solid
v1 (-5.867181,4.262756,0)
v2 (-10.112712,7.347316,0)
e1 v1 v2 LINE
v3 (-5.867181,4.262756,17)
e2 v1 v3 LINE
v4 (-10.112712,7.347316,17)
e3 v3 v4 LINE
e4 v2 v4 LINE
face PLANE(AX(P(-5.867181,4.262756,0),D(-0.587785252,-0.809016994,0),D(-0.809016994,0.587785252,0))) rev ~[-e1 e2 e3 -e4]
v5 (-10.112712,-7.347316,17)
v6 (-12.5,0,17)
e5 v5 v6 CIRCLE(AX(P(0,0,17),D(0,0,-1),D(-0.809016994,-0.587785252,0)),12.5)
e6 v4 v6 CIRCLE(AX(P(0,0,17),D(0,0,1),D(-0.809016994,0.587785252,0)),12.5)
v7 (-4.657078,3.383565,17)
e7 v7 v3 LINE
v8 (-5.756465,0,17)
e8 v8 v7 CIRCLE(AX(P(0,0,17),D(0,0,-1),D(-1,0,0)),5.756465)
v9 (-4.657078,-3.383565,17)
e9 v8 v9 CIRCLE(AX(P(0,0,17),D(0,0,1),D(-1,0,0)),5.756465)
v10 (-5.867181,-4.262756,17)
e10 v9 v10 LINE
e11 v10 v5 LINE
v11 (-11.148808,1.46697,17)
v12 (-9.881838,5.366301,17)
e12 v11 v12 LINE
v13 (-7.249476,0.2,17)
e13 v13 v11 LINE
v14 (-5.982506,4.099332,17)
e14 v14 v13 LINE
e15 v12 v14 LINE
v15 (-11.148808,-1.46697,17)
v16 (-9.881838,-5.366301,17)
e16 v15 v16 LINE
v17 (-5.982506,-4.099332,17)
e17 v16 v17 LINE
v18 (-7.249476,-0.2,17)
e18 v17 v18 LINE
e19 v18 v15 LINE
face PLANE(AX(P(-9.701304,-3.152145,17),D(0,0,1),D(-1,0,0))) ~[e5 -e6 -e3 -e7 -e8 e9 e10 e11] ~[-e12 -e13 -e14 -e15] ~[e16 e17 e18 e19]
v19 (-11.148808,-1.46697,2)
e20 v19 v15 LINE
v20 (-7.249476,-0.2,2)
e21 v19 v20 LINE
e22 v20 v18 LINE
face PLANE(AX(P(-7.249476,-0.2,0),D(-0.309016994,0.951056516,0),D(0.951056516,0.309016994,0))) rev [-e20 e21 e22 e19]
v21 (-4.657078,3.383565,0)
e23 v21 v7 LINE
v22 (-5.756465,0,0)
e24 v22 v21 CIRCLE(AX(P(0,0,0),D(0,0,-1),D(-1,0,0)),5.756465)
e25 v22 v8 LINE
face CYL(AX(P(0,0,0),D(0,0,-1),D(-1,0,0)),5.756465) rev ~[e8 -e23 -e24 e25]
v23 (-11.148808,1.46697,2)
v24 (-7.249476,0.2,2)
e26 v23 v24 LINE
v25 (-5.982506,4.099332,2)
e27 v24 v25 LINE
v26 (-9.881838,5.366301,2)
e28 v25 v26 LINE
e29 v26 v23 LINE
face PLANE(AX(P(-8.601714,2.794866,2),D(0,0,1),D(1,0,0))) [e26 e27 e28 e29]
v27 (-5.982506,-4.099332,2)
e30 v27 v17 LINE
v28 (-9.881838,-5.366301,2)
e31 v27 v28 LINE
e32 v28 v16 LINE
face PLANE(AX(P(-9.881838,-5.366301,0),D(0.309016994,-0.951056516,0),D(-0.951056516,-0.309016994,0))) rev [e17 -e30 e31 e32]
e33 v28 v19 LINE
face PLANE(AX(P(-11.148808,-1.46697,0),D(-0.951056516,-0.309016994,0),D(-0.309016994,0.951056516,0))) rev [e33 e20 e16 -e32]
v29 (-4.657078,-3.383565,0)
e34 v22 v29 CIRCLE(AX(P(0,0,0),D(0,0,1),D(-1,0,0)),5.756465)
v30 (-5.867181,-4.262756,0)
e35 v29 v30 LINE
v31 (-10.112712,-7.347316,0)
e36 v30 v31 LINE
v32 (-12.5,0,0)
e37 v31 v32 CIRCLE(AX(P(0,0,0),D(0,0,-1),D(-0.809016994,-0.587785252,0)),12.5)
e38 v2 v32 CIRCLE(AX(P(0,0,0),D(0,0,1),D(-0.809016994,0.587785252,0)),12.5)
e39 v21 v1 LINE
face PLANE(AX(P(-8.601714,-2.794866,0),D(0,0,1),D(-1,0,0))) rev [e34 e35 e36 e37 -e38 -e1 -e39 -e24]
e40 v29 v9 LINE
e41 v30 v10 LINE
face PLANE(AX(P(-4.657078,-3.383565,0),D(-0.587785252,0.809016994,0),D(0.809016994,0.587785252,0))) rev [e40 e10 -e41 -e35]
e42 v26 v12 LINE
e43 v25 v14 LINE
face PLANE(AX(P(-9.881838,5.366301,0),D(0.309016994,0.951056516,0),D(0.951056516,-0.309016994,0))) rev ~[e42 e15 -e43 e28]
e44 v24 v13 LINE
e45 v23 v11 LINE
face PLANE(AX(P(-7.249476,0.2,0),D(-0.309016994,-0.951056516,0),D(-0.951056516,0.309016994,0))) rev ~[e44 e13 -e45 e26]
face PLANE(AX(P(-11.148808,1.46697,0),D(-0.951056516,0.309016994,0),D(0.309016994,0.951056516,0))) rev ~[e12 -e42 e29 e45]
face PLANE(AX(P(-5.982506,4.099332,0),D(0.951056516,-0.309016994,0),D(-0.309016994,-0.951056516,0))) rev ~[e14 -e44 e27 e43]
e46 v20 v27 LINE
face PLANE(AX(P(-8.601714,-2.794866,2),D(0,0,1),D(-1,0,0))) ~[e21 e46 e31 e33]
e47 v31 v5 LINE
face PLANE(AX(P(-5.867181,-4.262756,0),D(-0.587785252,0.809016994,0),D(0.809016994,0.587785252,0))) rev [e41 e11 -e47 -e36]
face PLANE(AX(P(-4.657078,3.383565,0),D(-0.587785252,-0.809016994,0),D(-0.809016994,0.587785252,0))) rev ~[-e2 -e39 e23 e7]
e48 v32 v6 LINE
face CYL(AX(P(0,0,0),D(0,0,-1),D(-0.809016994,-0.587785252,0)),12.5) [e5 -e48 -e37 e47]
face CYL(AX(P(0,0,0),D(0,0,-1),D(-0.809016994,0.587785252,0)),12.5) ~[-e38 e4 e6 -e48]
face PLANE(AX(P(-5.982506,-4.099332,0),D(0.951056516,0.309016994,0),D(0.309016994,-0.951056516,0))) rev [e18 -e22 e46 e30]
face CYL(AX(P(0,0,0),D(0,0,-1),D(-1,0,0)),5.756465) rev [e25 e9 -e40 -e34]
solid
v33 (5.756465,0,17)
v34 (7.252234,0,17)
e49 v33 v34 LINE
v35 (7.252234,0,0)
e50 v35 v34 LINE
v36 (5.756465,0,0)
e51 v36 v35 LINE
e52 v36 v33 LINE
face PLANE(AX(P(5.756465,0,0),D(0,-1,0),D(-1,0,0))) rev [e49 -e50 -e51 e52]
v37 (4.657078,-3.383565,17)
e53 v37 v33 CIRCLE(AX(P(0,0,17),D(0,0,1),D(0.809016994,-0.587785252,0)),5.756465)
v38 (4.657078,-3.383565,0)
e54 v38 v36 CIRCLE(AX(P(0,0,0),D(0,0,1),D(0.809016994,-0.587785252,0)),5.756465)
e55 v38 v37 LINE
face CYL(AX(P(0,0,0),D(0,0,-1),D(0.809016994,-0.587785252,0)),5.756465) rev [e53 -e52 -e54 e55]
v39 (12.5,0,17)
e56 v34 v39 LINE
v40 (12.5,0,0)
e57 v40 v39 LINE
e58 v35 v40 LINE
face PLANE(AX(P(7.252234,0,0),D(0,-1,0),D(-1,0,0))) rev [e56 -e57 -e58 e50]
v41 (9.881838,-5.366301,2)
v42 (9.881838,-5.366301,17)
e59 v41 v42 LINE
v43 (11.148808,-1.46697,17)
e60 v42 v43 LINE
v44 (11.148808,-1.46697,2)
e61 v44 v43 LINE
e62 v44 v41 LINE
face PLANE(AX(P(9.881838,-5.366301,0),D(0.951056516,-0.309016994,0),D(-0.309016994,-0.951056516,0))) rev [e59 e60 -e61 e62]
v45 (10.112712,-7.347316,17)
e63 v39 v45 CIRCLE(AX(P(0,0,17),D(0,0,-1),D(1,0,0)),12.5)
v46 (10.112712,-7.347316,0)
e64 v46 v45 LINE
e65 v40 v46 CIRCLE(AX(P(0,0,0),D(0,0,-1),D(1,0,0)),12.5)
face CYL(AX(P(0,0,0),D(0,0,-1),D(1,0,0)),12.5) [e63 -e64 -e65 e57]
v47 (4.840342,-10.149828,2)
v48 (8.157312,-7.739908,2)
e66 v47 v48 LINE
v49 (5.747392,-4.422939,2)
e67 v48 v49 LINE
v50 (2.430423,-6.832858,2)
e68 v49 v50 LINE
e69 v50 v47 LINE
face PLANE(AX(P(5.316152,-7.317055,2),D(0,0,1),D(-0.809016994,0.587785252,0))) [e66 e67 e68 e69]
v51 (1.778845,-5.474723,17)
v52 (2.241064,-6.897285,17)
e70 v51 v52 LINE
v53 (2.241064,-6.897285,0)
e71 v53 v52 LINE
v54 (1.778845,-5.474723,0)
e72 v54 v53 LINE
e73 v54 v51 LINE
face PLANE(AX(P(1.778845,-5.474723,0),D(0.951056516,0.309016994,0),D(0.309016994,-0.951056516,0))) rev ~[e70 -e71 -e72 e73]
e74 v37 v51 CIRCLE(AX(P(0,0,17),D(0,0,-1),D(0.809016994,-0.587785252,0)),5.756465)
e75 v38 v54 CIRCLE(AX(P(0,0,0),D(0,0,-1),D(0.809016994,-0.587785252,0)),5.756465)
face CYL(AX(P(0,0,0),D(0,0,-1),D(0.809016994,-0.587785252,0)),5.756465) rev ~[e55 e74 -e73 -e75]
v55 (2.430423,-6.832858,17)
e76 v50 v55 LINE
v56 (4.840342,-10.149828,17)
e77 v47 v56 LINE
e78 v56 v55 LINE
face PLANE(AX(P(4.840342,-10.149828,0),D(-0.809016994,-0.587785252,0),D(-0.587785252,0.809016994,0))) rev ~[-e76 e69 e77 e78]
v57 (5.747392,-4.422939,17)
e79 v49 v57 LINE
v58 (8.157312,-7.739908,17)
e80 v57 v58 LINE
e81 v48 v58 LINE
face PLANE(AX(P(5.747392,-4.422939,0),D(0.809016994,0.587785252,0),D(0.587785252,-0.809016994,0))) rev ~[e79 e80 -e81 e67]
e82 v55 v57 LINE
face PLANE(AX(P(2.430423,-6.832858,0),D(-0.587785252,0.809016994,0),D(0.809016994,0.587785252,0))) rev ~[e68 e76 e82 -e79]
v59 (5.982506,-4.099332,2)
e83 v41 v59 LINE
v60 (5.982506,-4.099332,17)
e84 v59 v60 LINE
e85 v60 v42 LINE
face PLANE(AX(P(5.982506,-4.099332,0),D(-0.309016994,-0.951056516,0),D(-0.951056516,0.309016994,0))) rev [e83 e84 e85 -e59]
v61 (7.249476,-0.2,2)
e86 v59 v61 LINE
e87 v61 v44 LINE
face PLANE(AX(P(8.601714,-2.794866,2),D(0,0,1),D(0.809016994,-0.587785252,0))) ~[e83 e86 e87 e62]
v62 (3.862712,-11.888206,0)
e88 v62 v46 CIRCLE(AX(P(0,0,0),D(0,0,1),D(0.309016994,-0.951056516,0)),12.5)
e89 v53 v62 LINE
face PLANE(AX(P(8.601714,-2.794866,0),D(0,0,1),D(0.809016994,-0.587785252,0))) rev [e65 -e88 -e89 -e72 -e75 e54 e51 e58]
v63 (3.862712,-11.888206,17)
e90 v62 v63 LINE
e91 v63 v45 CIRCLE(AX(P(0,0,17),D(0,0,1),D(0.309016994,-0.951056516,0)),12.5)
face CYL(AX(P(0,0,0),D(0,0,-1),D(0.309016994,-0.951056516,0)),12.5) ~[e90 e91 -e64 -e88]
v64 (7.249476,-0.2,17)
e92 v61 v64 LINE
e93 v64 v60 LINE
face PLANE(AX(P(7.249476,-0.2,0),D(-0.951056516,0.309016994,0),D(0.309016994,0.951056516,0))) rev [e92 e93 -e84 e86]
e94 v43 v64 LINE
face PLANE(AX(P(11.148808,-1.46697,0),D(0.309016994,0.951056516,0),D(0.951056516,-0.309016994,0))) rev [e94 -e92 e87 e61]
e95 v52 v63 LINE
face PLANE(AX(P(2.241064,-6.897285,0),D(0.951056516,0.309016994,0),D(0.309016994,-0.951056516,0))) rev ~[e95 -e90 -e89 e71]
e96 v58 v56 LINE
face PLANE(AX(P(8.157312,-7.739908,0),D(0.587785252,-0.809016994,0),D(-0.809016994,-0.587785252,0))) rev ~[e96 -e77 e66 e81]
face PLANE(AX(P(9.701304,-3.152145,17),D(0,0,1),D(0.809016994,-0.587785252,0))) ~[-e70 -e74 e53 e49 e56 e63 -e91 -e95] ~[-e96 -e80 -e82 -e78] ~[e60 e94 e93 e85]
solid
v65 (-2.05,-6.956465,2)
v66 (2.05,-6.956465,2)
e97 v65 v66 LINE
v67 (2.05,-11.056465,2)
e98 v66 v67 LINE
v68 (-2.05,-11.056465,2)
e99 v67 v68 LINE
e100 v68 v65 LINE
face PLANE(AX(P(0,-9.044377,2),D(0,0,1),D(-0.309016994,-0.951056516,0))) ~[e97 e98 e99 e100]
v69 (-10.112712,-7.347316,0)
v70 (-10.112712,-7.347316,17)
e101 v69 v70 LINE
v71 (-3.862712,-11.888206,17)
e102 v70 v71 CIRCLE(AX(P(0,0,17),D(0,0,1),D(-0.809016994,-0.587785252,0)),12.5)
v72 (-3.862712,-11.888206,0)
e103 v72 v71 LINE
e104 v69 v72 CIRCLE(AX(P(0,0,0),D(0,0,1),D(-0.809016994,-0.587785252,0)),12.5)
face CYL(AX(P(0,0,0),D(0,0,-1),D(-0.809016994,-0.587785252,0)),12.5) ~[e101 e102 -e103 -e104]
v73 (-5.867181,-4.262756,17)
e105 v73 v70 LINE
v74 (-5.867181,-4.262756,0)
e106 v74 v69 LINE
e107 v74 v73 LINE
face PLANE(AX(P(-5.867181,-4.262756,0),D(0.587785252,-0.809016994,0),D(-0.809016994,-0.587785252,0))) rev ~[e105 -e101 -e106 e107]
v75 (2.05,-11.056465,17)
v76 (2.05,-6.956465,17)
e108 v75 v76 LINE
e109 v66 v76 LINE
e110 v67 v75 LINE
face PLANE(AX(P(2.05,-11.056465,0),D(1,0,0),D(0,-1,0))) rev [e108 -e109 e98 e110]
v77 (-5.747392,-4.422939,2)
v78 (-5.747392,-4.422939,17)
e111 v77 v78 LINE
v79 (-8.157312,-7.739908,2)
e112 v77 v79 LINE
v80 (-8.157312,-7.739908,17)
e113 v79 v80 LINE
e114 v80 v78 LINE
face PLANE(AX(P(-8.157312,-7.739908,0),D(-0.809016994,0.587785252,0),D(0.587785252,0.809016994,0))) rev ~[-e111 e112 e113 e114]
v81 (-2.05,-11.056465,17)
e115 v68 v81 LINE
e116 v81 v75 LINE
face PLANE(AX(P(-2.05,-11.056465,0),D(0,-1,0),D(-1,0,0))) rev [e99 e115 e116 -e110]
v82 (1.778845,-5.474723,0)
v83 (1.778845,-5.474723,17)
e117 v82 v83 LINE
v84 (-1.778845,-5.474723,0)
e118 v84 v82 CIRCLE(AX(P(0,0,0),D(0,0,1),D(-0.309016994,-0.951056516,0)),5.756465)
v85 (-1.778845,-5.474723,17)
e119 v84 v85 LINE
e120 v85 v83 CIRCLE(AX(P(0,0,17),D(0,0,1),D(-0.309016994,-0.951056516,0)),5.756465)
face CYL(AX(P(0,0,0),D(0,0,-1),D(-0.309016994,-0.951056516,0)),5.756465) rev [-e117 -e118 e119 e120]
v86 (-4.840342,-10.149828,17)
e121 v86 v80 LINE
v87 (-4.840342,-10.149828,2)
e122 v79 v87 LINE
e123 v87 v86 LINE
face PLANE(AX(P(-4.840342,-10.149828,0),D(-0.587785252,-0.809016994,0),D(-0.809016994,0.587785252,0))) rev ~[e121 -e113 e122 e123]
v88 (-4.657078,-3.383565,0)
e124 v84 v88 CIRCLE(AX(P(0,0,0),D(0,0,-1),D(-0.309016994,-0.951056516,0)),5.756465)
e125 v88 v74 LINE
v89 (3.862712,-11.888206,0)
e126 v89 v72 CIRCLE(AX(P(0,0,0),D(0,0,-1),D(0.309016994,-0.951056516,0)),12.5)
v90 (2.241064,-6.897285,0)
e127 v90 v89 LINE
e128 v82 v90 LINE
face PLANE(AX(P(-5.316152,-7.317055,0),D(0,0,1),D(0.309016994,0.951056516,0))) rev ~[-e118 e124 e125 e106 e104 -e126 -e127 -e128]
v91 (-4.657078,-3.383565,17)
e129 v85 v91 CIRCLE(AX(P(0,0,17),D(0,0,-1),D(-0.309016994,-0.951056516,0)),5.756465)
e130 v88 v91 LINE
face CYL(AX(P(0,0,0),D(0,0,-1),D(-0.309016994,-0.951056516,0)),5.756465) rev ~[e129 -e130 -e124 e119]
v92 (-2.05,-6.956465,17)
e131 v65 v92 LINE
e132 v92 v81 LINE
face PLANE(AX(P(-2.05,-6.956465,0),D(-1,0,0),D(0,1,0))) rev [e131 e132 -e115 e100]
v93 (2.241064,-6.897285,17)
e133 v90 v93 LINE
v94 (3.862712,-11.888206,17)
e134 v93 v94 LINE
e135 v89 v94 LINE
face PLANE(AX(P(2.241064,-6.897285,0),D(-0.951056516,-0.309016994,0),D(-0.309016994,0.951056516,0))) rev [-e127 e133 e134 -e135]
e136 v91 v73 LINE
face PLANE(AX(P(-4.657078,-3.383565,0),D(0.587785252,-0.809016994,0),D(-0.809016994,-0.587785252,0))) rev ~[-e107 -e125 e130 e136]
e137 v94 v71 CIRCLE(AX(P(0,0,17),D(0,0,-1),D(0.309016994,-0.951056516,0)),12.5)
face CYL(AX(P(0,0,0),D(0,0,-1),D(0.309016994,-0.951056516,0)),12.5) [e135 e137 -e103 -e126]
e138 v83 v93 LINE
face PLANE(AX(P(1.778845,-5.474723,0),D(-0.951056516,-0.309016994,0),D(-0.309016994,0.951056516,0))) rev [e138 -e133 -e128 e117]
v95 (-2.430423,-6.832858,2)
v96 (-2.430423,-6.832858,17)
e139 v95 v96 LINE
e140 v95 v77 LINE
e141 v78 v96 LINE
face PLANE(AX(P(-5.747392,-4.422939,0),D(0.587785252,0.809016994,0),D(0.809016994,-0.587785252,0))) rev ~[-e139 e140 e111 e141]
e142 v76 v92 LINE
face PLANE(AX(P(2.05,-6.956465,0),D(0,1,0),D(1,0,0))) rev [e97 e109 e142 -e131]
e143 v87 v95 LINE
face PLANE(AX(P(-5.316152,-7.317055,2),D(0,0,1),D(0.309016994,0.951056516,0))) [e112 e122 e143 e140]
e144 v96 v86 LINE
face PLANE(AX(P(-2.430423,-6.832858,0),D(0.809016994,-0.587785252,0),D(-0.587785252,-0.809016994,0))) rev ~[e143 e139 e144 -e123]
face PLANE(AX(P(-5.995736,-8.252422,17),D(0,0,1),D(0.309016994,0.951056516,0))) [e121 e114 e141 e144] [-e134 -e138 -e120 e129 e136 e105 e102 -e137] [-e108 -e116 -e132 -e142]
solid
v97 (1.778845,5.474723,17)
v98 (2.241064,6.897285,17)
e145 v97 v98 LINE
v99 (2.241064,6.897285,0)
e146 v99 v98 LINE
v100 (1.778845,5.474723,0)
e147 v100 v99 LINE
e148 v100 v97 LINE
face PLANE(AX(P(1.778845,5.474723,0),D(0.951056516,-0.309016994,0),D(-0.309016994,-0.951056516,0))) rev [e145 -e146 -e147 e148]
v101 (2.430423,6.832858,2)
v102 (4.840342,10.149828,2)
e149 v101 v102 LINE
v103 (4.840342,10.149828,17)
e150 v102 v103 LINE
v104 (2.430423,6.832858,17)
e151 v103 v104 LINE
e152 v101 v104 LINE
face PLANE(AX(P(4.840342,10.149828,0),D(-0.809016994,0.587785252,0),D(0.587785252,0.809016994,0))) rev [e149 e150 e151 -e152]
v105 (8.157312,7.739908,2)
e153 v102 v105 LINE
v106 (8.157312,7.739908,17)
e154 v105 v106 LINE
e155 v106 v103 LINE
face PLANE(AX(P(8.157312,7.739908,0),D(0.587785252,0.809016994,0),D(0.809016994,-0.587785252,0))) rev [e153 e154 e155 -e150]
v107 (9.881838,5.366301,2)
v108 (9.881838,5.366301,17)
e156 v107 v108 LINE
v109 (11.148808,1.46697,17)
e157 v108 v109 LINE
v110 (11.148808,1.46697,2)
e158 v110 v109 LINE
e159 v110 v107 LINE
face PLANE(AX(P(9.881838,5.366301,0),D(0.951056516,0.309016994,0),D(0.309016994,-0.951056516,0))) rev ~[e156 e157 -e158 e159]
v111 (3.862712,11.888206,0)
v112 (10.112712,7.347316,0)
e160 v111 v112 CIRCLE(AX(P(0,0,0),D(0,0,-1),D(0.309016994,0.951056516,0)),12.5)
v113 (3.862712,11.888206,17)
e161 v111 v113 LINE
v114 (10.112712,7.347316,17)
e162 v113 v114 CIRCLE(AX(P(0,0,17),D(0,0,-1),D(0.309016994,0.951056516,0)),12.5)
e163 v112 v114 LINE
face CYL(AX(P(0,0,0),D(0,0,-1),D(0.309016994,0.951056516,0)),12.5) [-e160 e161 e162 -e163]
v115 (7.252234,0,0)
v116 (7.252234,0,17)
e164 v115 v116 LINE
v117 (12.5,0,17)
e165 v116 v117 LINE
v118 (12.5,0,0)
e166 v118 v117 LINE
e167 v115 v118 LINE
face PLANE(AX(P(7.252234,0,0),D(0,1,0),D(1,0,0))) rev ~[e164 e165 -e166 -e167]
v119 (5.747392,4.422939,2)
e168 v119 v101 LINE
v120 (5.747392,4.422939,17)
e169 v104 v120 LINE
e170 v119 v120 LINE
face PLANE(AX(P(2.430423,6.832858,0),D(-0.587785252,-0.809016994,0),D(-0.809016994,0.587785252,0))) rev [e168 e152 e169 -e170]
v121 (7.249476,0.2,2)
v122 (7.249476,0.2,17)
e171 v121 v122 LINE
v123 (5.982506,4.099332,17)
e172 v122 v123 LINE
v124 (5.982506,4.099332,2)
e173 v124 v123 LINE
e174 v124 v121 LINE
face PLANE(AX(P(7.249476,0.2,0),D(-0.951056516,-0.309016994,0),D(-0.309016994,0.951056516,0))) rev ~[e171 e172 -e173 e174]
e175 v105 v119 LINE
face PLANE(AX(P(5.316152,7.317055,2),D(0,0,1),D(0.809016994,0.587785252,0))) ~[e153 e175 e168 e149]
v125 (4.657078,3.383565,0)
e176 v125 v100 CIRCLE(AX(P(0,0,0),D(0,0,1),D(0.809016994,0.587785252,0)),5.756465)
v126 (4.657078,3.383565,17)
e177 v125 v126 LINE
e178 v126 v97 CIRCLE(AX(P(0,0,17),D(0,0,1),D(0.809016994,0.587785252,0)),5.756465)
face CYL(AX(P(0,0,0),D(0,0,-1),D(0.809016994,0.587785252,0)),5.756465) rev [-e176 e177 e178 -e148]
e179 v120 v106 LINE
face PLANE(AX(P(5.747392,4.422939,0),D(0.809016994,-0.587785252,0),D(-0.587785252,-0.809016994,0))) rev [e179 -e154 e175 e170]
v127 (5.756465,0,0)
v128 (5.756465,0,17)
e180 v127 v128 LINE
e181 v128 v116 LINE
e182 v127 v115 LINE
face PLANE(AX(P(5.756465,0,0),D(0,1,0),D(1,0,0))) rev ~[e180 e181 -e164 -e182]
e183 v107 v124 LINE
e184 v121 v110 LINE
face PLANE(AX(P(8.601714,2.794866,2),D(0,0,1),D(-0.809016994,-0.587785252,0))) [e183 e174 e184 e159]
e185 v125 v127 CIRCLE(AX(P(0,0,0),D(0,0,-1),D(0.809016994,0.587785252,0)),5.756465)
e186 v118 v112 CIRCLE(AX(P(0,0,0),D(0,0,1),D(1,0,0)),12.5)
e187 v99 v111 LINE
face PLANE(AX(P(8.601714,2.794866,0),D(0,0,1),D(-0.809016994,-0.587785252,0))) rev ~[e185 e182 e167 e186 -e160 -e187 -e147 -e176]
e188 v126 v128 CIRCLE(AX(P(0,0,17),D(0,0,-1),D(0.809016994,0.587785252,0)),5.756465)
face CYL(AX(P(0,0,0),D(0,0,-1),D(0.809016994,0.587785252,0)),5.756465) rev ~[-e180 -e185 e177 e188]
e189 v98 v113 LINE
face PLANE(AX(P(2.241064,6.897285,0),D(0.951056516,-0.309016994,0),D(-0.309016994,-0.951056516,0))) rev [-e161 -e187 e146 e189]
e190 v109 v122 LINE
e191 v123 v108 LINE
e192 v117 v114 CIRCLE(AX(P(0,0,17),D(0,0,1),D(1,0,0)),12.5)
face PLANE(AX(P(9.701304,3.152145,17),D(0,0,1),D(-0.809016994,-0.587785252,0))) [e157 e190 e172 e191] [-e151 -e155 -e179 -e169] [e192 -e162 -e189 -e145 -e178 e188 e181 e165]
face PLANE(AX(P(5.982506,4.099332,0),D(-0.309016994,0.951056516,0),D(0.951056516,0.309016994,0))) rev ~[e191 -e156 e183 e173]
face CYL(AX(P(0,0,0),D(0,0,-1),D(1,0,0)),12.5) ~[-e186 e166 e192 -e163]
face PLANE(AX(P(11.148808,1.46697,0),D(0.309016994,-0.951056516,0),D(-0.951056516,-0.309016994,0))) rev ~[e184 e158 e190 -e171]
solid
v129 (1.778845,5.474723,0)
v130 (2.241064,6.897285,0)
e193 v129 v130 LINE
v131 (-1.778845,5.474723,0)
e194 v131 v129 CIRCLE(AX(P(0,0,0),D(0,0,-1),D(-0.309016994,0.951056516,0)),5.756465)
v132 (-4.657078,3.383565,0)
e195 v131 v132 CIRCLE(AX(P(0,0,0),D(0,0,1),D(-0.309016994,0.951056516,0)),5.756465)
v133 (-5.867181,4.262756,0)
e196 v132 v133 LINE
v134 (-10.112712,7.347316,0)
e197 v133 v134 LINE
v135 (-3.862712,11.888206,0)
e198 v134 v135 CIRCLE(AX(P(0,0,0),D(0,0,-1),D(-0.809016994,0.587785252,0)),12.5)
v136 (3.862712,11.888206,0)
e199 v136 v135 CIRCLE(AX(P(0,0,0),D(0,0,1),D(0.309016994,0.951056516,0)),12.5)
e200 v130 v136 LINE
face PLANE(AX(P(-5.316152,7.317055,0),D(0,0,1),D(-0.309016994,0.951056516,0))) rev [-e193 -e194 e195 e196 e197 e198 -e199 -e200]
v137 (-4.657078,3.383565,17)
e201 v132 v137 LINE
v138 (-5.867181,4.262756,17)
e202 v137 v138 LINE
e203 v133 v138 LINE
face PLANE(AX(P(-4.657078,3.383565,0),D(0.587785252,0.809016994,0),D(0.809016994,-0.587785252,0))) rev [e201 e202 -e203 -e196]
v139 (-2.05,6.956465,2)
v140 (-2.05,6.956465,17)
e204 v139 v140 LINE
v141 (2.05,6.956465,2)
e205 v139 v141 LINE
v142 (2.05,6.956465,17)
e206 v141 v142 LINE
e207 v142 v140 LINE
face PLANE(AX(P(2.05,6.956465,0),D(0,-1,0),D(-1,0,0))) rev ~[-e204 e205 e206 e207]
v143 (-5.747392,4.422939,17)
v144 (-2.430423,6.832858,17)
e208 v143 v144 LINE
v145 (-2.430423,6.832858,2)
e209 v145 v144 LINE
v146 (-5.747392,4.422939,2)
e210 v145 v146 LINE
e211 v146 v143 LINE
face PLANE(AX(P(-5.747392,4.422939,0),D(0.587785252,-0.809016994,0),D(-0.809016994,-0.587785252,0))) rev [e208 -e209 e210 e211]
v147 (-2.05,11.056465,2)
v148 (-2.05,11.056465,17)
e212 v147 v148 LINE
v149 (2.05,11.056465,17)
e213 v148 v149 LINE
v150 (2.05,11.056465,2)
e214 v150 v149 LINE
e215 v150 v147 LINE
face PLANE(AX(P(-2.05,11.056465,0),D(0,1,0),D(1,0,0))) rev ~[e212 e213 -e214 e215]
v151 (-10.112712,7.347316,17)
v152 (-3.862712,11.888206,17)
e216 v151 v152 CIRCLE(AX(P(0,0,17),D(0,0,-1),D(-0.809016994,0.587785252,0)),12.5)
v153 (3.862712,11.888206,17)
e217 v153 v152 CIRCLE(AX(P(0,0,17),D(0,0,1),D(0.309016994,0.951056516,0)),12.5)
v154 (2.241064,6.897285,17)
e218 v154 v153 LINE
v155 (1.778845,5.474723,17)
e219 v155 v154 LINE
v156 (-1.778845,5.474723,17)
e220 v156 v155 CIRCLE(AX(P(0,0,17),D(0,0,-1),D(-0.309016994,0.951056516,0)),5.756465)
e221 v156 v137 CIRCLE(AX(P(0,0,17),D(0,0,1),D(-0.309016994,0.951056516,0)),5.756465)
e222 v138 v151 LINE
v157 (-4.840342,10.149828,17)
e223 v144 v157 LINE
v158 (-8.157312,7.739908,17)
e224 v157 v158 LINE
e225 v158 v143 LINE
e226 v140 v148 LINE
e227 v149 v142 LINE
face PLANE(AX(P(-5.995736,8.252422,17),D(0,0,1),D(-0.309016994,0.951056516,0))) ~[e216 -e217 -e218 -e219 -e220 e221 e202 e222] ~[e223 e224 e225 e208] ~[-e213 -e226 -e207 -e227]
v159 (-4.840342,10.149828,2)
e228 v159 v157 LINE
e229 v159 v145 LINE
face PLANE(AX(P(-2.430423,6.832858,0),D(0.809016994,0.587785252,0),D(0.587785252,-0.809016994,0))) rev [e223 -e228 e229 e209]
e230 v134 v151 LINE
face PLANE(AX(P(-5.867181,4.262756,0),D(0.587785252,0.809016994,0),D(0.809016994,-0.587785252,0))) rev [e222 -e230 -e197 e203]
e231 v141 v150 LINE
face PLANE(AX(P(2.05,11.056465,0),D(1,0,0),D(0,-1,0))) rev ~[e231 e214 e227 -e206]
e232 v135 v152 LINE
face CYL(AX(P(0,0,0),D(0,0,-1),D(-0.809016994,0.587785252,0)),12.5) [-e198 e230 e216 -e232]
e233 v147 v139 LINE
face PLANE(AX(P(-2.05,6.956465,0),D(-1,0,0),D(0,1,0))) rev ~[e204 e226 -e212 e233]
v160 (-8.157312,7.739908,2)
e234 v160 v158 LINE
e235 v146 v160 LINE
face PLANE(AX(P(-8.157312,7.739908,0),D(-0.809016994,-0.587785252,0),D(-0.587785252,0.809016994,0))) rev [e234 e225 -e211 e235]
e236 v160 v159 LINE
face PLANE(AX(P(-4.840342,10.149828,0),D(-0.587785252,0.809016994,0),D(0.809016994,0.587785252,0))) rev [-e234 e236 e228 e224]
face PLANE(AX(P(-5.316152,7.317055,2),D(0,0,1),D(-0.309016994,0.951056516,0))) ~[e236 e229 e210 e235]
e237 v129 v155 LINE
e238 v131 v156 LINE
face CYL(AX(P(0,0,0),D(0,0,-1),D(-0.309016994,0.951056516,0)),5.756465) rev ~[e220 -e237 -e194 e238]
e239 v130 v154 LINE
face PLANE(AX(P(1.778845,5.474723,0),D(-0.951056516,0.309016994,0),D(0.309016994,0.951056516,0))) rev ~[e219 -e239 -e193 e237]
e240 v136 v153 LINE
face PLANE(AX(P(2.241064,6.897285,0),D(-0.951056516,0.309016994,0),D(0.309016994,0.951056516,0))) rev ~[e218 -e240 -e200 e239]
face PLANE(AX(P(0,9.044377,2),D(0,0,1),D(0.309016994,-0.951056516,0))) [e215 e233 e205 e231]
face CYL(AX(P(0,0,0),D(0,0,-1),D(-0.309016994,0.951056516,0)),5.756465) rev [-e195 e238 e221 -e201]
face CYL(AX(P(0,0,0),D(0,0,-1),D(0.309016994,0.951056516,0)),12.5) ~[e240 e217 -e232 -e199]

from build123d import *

# Parameters (mm, degrees)
F1_DEPTH = 17
F2_DEPTH = 2


with BuildPart() as f1:
    # F0 (on Top) → F1 (new body)
    with BuildSketch(Plane.XY):
        with BuildLine():
            Line((-9.8818381012, 5.3663013937), (-5.9825063844, 4.0993317168))
            ThreePointArc((-5.9825063844, 4.0993317168), (-5.9254070532, 4.1814416674), (-5.8671808417, 4.262756401))
            Line((-5.8671808417, 4.262756401), (-10.1127124297, 7.3473156537))
            ThreePointArc((-10.1127124297, 7.3473156537), (-11.8882064537, 3.8627124297), (-12.5, 0))
            Line((-12.5, 0), (-7.2522343566, 0))
            ThreePointArc((-7.2522343566, 0), (-7.25154475, 0.1000095098), (-7.2494760613, 0.2))
            Line((-7.2494760613, 0.2), (-11.1488077781, 1.4669696769))
            Line((-11.1488077781, 1.4669696769), (-9.8818381012, 5.3663013937))
        make_face()
        with BuildLine():
            ThreePointArc((-5.8671808417, 4.262756401), (-5.9254070532, 4.1814416674), (-5.9825063844, 4.0993317168))
            Line((-5.9825063844, 4.0993317168), (-7.2494760613, 0.2))
            ThreePointArc((-7.2494760613, 0.2), (-7.25154475, 0.1000095098), (-7.2522343566, 0))
            Line((-7.2522343566, 0), (-5.7564648467, 0))
            ThreePointArc((-5.7564648467, 0), (-5.4747234033, 1.7788454652), (-4.6570778885, 3.3835651422))
            Line((-4.6570778885, 3.3835651422), (-5.8671808417, 4.262756401))
        make_face()
    extrude(amount=F1_DEPTH)

    # F0 (on Top) → F2 (join)
    with BuildSketch(Plane.XY):
        with BuildLine():
            ThreePointArc((-7.2494760613, 0.2), (-6.8972847426, 2.2410636634), (-5.9825063844, 4.0993317168))
            Line((-5.9825063844, 4.0993317168), (-9.8818381012, 5.3663013937))
            Line((-9.8818381012, 5.3663013937), (-11.1488077781, 1.4669696769))
            Line((-11.1488077781, 1.4669696769), (-7.2494760613, 0.2))
        make_face()
        with BuildLine():
            Line((-7.2494760613, 0.2), (-5.9825063844, 4.0993317168))
            ThreePointArc((-5.9825063844, 4.0993317168), (-6.8972847426, 2.2410636634), (-7.2494760613, 0.2))
        make_face()
    extrude(amount=F2_DEPTH)

    # F3: F1 across plane


with BuildPart() as f1_1:
    add(f1.part)
    add(f1.part.mirror(Plane.XZ))


with BuildPart() as f4_1:
    # F4: instance of F1
    add(f1_1.part.mirror(Plane(origin=(-7.3848951591, -5.3654403979, 8.5), x_dir=(0.8090169944, 0.5877852523, 0), z_dir=(0.5877852523, -0.8090169944, 0))))


with BuildPart() as f5_1:
    # F5: instance of F4_1
    add(f4_1.part.mirror(Plane(origin=(2.8207789474, -8.6814649285, 8.5), x_dir=(-0.3090169944, 0.9510565163, 0), z_dir=(0.9510565163, 0.3090169944, 0))))


with BuildPart() as f6_1:
    # F6: instance of F5_1
    add(f5_1.part.mirror(Plane(origin=(9.1282324234, 0, 8.5), x_dir=(-1, 0, 0), z_dir=(0, 1, 0))))


with BuildPart() as f7_1:
    # F7: instance of F6_1
    add(f6_1.part.mirror(Plane(origin=(2.8207789474, 8.6814649285, 8.5), x_dir=(-0.3090169944, -0.9510565163, 0), z_dir=(-0.9510565163, 0.3090169944, 0))))


solid = Compound([f1_1.part, f4_1.part, f5_1.part, f6_1.part, f7_1.part])
